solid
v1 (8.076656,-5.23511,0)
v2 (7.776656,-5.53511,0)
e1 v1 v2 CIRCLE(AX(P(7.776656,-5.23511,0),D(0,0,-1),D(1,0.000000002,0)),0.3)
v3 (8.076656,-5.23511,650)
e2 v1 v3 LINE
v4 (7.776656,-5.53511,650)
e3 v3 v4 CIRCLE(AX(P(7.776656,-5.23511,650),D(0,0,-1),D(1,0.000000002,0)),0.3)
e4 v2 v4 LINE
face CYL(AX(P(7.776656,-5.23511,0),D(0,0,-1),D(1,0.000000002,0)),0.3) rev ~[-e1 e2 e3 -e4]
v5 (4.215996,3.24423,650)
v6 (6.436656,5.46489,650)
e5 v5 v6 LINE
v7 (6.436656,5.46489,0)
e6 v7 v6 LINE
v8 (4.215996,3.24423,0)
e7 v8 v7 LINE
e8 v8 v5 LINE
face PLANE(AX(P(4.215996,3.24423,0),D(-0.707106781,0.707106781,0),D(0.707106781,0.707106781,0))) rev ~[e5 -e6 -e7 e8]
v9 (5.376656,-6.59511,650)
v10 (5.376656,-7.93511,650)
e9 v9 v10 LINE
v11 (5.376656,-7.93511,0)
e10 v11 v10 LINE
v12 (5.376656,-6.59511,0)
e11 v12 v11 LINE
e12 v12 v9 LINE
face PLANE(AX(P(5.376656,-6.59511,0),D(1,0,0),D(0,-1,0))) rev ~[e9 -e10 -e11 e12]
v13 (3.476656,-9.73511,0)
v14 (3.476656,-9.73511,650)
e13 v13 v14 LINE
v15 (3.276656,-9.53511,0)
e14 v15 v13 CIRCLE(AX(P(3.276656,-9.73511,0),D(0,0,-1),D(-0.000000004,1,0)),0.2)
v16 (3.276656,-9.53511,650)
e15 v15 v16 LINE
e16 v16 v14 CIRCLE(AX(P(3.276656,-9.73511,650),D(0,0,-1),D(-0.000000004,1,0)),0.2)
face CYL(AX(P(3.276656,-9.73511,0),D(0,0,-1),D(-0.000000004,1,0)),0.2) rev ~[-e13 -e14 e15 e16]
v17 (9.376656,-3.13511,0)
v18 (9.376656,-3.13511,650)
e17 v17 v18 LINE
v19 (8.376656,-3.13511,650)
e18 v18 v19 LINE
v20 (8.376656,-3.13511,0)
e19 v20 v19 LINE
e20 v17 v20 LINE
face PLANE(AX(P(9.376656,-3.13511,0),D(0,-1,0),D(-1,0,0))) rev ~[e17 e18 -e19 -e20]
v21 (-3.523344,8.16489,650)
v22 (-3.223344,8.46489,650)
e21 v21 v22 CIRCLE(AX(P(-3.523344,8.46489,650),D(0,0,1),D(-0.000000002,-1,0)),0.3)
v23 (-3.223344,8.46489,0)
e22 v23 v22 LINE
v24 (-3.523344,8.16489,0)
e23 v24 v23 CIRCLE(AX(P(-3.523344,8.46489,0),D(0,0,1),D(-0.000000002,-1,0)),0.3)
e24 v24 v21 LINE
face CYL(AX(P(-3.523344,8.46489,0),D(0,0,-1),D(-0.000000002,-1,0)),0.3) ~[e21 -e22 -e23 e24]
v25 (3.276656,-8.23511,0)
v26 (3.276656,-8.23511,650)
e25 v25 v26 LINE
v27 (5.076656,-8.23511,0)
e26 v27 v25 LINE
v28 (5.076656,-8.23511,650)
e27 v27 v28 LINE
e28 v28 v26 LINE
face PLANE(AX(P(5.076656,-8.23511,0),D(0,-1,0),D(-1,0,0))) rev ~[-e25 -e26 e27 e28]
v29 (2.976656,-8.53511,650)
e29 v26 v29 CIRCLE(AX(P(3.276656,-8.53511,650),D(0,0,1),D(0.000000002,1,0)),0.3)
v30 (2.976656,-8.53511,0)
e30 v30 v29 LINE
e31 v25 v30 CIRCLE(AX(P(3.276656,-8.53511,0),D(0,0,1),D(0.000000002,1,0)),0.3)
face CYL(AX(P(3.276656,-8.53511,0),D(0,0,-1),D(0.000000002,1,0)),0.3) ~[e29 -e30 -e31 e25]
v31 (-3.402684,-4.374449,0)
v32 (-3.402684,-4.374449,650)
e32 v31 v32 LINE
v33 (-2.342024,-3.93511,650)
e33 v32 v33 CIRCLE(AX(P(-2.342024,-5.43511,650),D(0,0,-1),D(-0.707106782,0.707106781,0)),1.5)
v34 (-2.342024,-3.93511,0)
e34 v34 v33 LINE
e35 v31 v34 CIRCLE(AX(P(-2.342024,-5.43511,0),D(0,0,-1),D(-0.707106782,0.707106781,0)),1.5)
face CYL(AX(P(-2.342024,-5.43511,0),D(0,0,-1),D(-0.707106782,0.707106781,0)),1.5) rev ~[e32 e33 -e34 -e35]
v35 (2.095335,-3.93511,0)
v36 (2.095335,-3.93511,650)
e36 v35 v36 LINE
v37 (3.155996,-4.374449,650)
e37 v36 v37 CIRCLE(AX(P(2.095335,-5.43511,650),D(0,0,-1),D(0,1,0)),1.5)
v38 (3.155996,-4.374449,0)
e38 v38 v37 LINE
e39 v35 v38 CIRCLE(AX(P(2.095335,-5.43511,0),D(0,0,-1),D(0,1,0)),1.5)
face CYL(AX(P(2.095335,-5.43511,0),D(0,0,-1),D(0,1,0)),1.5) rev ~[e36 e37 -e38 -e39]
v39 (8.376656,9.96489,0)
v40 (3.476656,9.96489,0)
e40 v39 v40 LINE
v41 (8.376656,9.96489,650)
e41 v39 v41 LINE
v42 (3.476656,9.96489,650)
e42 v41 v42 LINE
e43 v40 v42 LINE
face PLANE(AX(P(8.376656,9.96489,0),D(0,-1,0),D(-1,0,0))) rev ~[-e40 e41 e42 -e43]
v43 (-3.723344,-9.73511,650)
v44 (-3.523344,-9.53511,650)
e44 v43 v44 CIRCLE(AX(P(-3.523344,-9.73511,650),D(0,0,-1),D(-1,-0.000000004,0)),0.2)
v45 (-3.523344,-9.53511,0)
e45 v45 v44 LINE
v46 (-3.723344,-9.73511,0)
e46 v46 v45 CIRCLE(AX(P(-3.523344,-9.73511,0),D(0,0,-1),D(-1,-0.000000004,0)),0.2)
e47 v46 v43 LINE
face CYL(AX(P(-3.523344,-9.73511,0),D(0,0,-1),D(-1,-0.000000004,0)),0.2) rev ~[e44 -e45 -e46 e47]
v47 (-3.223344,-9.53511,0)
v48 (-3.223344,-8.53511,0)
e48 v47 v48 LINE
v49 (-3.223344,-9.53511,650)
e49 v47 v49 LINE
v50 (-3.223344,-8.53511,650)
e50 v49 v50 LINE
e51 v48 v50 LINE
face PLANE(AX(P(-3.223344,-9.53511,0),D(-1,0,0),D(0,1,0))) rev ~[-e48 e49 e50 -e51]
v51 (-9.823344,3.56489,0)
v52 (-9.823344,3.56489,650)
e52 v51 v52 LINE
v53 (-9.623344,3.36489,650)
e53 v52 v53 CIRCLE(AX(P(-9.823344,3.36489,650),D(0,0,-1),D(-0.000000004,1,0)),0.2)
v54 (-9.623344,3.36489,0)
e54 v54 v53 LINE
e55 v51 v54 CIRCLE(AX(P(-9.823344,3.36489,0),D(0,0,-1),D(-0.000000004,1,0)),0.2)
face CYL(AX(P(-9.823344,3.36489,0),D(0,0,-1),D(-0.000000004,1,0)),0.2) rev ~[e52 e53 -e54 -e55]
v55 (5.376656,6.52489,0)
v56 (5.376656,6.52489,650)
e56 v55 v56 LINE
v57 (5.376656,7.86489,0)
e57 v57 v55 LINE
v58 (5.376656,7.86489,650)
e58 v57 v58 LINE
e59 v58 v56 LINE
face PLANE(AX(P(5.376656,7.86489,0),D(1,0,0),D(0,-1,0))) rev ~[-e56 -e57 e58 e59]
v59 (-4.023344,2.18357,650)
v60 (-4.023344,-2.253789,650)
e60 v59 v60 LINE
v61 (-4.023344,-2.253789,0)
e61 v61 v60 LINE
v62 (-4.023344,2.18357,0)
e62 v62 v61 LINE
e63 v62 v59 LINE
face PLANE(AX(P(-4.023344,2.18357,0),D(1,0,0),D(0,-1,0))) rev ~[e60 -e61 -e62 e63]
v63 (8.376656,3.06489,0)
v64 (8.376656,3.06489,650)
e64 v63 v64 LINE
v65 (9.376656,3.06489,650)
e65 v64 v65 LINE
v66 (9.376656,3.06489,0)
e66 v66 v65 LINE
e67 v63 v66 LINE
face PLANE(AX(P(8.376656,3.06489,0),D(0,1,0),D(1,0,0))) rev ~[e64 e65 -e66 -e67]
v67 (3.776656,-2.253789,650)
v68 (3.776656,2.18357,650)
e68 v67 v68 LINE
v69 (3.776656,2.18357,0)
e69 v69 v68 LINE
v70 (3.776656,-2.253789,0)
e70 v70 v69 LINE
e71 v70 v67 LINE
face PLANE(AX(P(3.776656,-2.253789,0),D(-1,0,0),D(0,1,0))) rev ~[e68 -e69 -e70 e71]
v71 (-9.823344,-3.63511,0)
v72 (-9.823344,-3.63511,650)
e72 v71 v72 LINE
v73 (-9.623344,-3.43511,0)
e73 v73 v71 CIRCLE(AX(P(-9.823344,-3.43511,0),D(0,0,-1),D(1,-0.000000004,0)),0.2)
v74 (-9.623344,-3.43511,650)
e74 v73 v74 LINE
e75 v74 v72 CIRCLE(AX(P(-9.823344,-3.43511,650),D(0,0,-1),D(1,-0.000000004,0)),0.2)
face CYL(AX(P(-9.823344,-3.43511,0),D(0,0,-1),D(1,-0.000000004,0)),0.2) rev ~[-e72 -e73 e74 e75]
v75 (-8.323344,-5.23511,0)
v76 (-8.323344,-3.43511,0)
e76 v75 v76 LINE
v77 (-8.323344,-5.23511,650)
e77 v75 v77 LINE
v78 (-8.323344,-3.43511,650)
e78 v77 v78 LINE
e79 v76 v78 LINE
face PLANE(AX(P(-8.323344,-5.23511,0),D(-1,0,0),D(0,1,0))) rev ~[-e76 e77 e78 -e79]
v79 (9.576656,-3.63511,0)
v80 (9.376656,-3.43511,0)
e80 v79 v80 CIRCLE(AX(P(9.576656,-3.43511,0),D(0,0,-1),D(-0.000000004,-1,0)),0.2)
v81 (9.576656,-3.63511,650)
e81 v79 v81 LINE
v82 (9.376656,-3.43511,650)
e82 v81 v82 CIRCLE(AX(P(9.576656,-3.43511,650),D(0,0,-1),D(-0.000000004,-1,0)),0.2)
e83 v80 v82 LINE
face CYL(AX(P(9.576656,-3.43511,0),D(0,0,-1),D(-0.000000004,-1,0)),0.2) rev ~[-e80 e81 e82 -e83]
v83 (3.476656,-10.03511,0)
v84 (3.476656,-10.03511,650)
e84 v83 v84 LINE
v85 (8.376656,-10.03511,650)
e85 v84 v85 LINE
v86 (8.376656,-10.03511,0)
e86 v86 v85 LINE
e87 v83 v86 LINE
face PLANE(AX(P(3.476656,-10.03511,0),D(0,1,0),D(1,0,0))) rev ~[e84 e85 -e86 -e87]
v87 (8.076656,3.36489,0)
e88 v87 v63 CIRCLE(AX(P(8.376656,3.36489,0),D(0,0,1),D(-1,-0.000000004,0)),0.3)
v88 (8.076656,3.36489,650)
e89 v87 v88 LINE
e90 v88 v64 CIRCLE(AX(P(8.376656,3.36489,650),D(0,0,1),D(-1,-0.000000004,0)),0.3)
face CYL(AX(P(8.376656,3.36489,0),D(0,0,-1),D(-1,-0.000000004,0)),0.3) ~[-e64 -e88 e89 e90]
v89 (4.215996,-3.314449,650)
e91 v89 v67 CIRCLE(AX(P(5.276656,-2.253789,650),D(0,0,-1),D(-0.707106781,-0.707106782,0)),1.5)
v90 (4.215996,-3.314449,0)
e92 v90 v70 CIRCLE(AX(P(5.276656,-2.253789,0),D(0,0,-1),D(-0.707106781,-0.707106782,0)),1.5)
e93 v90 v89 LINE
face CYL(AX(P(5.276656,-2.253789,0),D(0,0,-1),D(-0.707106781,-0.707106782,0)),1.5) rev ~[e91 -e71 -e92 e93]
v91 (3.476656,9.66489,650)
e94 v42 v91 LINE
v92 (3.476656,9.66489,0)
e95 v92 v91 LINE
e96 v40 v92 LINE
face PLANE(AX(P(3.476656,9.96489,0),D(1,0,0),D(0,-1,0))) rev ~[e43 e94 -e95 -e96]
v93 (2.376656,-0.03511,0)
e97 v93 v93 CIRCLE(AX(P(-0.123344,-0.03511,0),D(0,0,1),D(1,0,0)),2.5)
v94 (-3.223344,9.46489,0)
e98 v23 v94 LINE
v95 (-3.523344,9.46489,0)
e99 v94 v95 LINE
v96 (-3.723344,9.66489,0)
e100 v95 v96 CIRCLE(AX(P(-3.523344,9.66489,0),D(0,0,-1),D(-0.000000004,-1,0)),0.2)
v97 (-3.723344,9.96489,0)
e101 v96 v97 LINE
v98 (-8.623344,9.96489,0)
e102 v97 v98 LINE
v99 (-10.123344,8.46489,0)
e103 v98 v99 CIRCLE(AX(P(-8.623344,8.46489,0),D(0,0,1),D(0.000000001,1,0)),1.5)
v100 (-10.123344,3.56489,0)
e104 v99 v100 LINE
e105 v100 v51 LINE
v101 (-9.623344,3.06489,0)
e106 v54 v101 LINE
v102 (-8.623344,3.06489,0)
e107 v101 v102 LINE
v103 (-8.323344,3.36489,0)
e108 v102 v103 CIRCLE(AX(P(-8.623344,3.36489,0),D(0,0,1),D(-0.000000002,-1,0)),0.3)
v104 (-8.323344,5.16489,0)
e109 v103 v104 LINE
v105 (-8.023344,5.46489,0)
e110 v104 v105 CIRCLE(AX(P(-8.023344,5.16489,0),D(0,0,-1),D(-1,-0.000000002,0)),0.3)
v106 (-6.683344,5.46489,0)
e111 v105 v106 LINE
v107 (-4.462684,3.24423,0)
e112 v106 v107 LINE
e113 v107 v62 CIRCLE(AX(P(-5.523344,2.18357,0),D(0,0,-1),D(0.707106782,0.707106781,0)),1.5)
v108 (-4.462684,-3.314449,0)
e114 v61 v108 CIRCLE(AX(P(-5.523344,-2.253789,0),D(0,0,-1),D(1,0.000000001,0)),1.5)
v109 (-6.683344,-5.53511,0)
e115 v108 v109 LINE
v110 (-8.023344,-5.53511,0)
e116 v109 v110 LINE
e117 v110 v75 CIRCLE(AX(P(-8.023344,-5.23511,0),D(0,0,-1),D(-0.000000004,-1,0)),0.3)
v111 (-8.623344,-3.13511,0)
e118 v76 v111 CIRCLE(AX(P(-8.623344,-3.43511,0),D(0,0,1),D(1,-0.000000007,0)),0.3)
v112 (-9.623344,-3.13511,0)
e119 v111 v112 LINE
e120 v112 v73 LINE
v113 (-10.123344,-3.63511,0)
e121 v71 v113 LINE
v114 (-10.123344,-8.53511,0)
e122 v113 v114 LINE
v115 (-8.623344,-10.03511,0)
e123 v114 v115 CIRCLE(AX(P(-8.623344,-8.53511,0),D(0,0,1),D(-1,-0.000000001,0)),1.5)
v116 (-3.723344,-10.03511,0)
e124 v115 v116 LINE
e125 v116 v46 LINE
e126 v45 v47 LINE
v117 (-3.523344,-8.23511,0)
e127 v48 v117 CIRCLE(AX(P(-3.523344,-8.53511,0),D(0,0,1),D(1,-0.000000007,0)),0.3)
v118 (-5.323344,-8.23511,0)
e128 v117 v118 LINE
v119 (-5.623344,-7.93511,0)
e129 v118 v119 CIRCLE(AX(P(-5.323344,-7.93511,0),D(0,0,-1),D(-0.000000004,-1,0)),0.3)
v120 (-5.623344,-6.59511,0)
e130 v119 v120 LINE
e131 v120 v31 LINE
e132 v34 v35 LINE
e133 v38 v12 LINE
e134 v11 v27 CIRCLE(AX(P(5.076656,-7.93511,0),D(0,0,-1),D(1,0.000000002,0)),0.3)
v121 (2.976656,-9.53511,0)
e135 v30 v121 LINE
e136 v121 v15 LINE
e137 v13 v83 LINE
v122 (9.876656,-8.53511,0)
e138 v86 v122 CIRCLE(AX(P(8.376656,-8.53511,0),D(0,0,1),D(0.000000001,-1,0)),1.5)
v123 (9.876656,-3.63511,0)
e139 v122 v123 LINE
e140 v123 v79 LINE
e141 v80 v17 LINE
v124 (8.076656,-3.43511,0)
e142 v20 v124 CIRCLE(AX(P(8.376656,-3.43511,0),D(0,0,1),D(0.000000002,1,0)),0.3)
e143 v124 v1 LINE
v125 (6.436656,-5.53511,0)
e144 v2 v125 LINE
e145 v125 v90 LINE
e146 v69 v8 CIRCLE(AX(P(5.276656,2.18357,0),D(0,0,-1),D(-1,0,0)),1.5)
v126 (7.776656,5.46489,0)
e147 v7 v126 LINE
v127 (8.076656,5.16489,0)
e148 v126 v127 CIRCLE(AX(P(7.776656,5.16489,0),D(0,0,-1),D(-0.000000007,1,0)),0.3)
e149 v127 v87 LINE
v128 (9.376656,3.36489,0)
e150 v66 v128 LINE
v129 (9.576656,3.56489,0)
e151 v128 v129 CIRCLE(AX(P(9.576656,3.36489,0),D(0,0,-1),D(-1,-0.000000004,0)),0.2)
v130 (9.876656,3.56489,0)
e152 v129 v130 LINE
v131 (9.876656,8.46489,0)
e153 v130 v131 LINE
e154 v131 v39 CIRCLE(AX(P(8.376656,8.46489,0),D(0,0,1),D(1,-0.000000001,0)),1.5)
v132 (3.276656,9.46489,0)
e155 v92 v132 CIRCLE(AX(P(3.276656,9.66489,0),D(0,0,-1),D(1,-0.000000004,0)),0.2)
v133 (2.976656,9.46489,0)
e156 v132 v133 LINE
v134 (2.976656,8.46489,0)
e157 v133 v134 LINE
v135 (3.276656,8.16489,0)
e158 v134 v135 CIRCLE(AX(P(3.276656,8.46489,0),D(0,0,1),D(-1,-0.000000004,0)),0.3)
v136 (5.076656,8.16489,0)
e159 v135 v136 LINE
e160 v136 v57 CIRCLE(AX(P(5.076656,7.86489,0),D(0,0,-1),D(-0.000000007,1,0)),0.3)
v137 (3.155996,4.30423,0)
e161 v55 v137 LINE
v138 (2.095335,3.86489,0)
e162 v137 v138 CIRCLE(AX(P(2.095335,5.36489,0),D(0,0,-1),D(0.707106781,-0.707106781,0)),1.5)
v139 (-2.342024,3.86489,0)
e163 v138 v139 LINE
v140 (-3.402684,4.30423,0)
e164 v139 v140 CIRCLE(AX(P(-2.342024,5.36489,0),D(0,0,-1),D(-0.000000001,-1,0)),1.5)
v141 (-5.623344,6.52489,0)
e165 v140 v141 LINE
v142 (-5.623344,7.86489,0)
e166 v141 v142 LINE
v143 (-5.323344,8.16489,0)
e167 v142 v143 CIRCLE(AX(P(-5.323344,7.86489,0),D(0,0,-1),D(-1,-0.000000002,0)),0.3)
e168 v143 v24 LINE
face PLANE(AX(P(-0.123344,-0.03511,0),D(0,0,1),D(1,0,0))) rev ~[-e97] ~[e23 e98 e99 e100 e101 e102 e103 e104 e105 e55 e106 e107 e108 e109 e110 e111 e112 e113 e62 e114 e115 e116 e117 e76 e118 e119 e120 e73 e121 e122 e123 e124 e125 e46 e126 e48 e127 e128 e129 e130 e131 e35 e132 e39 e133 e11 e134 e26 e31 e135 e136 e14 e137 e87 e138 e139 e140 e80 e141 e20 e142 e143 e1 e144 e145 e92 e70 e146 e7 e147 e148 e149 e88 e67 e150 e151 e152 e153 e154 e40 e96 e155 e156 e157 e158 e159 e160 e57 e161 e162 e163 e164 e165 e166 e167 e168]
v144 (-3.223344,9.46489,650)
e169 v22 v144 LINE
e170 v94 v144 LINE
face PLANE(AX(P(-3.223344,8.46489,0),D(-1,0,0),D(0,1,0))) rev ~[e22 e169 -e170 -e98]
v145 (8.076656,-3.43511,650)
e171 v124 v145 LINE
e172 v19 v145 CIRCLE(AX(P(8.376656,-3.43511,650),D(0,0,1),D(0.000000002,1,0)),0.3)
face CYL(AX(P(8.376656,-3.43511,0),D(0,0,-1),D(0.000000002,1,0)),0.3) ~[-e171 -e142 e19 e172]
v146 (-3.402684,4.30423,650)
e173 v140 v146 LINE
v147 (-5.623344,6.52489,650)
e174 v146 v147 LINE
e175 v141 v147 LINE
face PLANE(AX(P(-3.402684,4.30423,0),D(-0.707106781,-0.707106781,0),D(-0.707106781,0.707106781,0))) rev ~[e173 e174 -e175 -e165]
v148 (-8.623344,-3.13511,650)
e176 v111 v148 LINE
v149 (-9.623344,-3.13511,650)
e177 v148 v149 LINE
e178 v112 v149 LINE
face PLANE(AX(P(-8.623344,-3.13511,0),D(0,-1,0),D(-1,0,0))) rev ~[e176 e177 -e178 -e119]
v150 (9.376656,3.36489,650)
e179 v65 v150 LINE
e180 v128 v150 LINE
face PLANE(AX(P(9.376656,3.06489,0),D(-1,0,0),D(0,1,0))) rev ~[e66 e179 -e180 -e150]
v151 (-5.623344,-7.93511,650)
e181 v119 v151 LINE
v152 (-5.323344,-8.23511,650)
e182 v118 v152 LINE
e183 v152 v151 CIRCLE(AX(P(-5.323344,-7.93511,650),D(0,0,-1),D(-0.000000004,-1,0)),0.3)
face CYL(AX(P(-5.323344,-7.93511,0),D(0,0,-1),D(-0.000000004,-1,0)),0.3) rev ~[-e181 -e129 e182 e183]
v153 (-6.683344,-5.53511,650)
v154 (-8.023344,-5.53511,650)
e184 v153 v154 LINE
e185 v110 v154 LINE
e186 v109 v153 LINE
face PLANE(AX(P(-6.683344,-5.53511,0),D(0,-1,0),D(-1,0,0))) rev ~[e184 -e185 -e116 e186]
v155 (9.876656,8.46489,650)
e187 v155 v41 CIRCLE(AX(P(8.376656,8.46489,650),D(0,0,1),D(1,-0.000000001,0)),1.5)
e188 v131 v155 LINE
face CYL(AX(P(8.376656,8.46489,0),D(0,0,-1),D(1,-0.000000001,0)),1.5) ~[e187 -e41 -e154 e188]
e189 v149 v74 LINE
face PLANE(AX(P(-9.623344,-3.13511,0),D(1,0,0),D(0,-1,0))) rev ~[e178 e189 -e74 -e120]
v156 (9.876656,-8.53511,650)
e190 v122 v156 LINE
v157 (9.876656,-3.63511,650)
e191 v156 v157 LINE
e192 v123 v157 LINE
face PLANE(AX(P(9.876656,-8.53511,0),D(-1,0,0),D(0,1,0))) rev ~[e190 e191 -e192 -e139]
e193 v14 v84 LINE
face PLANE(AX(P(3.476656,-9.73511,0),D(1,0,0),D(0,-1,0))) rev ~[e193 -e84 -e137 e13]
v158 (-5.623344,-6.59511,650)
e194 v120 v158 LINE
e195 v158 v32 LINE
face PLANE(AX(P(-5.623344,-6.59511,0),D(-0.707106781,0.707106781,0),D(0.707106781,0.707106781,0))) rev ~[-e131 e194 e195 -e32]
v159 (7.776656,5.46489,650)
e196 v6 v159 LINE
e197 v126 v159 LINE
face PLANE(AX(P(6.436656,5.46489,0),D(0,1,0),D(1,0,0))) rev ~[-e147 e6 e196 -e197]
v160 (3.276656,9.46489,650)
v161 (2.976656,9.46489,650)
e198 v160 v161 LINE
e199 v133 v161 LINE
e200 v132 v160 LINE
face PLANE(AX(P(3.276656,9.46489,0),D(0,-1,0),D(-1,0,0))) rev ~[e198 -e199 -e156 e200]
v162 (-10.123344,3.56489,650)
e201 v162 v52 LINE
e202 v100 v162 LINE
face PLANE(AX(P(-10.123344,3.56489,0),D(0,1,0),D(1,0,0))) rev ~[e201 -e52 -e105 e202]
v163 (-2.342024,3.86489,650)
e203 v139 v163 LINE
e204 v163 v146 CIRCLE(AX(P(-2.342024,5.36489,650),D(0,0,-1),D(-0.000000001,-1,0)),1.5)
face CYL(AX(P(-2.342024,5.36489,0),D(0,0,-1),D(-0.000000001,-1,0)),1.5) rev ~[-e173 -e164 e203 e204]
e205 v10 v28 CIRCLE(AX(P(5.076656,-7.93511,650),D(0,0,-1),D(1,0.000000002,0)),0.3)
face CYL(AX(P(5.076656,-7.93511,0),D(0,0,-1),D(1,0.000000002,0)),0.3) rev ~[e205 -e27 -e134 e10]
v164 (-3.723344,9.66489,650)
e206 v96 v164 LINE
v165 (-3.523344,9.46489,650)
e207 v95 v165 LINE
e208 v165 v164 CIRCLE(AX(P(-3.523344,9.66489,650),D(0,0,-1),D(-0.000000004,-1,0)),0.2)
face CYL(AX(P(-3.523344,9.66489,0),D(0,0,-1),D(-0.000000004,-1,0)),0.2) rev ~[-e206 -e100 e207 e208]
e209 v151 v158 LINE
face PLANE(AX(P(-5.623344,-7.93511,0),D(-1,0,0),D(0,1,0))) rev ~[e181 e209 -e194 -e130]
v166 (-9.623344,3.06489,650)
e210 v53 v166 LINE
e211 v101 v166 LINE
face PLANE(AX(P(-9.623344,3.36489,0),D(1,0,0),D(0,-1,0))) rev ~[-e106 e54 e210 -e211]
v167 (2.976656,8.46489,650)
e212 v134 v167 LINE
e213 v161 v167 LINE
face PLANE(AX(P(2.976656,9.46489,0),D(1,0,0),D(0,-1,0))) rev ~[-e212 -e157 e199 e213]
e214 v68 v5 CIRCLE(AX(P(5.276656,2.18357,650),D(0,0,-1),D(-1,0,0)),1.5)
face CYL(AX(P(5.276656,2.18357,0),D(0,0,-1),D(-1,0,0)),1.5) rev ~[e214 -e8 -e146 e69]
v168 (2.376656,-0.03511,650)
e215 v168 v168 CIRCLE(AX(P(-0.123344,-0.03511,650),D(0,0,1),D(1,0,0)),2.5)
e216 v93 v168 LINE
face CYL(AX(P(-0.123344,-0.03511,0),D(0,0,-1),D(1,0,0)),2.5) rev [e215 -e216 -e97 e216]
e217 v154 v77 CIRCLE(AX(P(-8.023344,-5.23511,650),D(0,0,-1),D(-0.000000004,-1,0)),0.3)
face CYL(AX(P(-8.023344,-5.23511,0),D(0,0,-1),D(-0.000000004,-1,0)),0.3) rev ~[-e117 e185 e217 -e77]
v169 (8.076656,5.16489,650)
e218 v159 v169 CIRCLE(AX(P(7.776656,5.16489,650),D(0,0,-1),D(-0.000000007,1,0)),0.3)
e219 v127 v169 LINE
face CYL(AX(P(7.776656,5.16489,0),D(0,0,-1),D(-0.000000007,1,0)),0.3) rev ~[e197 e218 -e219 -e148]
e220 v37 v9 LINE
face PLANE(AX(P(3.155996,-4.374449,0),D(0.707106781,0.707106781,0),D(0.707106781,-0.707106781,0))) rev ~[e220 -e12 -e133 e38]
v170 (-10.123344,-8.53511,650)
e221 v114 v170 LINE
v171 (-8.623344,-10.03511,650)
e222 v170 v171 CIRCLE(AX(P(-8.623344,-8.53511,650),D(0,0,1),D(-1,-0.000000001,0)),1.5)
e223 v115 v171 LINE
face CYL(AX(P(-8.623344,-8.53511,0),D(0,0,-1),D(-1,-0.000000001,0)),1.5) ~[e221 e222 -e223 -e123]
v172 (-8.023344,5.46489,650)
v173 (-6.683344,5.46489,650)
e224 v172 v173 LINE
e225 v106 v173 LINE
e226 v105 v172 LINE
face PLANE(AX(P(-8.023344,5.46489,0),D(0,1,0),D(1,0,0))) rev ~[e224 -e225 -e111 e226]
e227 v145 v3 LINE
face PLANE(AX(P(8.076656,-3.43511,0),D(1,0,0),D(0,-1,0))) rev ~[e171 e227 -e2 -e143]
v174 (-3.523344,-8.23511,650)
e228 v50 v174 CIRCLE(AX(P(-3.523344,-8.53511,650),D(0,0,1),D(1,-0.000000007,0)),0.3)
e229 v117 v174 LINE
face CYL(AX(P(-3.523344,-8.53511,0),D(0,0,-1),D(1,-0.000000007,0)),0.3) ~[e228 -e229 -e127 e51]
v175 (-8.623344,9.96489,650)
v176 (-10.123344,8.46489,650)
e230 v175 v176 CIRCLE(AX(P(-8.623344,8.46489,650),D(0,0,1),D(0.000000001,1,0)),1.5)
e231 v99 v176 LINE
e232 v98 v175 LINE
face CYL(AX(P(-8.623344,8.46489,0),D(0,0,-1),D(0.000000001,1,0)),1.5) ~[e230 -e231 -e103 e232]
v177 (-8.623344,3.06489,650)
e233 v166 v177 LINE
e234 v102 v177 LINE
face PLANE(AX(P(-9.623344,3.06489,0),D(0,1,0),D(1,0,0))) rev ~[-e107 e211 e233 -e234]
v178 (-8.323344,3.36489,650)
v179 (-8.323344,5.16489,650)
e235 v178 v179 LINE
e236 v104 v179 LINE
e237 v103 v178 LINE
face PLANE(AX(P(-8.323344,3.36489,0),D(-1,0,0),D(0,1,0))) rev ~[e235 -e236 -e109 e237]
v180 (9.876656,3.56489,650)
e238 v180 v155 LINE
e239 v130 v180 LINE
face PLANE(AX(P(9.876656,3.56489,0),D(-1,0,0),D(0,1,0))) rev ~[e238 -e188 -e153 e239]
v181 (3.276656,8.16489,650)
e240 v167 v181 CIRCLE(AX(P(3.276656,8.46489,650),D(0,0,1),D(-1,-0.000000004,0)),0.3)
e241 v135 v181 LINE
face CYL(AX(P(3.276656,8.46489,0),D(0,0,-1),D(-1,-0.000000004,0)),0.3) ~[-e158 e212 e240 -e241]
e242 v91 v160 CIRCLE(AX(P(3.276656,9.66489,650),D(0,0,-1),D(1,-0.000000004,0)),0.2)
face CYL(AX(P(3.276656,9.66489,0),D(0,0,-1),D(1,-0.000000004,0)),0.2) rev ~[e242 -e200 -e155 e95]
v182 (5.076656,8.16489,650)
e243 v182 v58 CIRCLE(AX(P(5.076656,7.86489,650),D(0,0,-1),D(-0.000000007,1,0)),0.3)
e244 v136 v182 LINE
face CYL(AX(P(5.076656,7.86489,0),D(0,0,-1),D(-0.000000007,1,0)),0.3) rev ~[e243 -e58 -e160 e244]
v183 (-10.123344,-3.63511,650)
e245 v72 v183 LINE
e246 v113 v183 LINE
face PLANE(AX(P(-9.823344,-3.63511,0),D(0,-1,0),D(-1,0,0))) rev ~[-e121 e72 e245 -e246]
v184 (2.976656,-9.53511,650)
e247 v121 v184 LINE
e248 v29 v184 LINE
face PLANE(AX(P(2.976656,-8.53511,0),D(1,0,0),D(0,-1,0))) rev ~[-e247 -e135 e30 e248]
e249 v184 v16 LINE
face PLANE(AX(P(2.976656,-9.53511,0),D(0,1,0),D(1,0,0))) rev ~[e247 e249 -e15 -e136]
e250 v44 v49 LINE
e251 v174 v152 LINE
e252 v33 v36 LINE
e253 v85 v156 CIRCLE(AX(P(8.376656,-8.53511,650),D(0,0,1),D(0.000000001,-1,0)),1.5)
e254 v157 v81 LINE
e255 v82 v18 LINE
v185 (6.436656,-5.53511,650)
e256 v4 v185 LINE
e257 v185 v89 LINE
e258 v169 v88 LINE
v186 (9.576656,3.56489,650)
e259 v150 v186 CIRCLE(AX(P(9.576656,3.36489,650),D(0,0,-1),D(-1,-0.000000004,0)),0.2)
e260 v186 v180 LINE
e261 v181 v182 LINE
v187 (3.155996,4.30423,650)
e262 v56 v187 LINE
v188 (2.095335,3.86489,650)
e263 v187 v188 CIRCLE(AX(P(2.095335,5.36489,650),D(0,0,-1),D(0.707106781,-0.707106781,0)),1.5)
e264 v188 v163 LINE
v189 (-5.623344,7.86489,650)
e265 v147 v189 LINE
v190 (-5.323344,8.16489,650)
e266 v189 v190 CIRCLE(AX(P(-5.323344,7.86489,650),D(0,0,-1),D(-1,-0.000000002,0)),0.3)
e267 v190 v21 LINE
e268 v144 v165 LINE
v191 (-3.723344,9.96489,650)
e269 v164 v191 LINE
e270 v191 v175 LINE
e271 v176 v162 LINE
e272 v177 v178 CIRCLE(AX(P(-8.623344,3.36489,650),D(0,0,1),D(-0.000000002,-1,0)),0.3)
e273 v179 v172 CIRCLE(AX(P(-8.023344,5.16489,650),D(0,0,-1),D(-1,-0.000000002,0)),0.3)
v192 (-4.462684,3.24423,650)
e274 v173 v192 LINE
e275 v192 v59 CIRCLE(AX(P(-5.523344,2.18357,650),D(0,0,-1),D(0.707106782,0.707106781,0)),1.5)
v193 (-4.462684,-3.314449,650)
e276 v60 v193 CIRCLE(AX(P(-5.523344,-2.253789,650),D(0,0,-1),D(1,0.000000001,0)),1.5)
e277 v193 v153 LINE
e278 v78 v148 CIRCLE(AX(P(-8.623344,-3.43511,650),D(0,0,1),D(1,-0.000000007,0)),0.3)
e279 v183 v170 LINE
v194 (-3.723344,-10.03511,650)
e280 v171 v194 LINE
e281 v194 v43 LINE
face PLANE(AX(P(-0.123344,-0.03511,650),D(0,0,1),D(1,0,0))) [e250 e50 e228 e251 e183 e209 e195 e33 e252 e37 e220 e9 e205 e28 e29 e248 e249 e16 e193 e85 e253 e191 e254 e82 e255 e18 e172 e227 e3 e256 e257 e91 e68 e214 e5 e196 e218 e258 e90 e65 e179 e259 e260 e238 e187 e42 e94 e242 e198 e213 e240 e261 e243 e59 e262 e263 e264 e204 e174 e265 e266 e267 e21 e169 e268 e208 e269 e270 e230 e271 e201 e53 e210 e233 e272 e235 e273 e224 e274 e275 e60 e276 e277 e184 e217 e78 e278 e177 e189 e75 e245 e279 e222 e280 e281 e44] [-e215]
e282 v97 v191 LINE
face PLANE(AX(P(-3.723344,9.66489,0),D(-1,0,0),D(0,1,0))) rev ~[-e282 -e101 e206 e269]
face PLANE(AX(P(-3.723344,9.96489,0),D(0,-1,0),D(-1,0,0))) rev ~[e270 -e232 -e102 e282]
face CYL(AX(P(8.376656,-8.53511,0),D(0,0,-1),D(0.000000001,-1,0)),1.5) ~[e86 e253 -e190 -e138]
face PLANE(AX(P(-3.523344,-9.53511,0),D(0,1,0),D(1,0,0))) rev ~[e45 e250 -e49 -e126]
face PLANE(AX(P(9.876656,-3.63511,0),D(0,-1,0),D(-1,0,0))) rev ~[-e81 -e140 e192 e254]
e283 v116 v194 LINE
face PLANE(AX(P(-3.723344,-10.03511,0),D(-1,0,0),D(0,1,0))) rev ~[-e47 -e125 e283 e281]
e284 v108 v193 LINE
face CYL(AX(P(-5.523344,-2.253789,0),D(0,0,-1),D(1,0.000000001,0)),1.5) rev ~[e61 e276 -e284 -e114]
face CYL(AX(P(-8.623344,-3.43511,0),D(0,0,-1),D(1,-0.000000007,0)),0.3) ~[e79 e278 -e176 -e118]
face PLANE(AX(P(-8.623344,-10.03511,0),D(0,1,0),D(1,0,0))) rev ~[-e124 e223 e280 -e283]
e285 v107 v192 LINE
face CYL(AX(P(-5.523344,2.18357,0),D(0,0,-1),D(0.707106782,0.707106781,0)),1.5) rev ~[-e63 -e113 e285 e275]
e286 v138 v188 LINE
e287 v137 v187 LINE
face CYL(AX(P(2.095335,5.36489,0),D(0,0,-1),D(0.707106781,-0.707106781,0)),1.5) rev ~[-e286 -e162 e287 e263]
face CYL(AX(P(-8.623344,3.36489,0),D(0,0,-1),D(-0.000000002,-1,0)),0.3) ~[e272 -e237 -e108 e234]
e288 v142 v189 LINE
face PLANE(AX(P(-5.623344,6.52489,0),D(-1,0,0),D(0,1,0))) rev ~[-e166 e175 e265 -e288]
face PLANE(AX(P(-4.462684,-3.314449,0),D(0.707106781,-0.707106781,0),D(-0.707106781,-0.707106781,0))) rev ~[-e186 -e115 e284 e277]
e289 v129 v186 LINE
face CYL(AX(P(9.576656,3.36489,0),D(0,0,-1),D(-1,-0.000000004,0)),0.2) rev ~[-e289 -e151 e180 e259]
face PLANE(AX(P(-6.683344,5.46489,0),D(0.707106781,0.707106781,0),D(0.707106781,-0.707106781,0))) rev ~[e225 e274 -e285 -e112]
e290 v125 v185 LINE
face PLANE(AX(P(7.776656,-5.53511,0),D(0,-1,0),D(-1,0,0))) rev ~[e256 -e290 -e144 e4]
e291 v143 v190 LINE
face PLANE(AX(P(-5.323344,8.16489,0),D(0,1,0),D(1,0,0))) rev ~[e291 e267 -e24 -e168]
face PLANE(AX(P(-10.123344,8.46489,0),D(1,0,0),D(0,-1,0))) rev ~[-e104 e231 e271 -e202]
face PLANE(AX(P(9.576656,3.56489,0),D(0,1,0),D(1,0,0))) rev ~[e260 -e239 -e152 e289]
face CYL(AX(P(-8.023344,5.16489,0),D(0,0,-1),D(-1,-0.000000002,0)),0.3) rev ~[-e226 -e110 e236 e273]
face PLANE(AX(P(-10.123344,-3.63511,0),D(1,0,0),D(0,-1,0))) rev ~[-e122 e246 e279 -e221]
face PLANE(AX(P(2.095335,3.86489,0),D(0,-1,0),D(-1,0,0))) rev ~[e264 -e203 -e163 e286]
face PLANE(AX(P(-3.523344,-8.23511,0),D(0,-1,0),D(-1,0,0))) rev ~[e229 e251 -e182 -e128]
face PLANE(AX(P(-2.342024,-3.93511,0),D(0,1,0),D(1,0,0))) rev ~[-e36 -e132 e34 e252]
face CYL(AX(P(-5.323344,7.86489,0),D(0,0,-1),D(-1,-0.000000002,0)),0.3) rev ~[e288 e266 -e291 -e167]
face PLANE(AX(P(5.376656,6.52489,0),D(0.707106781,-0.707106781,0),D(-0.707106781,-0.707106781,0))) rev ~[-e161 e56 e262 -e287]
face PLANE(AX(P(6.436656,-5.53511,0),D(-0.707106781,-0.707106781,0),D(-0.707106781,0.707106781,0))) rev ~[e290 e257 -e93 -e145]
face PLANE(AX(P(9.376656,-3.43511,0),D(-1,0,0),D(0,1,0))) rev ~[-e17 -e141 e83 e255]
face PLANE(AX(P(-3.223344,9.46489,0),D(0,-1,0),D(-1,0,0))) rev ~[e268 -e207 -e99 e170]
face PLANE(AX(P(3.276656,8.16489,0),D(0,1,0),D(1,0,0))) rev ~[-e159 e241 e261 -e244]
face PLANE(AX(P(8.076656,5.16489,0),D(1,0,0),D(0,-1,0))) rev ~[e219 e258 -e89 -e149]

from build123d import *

# Parameters (mm, degrees)
SKETCH_1_R      = 2.5
EXTRUDE_1_DEPTH = 650


with BuildPart() as part:
    # 草图1 → 凸台-拉伸1 (new body)
    with BuildSketch(Plane.XY):
        with BuildLine():
            Line((4.215995631, 3.244230202), (6.436655803, 5.464890373))
            Line((6.436655803, 5.464890373), (7.776655803, 5.464890373))
            ThreePointArc((7.776655803, 5.464890373), (7.988787838, 5.377022408), (8.076655803, 5.164890373))
            Line((8.076655803, 5.164890373), (8.076655803, 3.364890373))
            ThreePointArc((8.076655803, 3.364890373), (8.164523769, 3.152758339), (8.376655803, 3.064890373))
            Line((8.376655803, 3.064890373), (9.376655803, 3.064890373))
            Line((9.376655803, 3.064890373), (9.376655803, 3.364890373))
            ThreePointArc((9.376655803, 3.364890373), (9.435234447, 3.50631173), (9.576655803, 3.564890373))
            Line((9.576655803, 3.564890373), (9.876655803, 3.564890373))
            Line((9.876655803, 3.564890373), (9.876655803, 8.464890373))
            ThreePointArc((9.876655803, 8.464890373), (9.437315975, 9.525550545), (8.376655803, 9.964890373))
            Line((8.376655803, 9.964890373), (3.476655803, 9.964890373))
            Line((3.476655803, 9.964890373), (3.476655803, 9.664890373))
            ThreePointArc((3.476655803, 9.664890373), (3.418077159, 9.523469017), (3.276655803, 9.464890373))
            Line((3.276655803, 9.464890373), (2.976655803, 9.464890373))
            Line((2.976655803, 9.464890373), (2.976655803, 8.464890373))
            ThreePointArc((2.976655803, 8.464890373), (3.064523769, 8.252758339), (3.276655803, 8.164890373))
            Line((3.276655803, 8.164890373), (5.076655803, 8.164890373))
            ThreePointArc((5.076655803, 8.164890373), (5.288787838, 8.077022408), (5.376655803, 7.864890373))
            Line((5.376655803, 7.864890373), (5.376655803, 6.524890373))
            Line((5.376655803, 6.524890373), (3.155995631, 4.304230202))
            ThreePointArc((3.155995631, 4.304230202), (2.669360608, 3.979071075), (2.09533546, 3.864890373))
            Line((2.09533546, 3.864890373), (-2.342023853, 3.864890373))
            ThreePointArc((-2.342023853, 3.864890373), (-2.916049002, 3.979071075), (-3.402684025, 4.304230202))
            Line((-3.402684025, 4.304230202), (-5.623344197, 6.524890373))
            Line((-5.623344197, 6.524890373), (-5.623344197, 7.864890373))
            ThreePointArc((-5.623344197, 7.864890373), (-5.535476231, 8.077022408), (-5.323344197, 8.164890373))
            Line((-5.323344197, 8.164890373), (-3.523344197, 8.164890373))
            ThreePointArc((-3.523344197, 8.164890373), (-3.311212162, 8.252758339), (-3.223344197, 8.464890373))
            Line((-3.223344197, 8.464890373), (-3.223344197, 9.464890373))
            Line((-3.223344197, 9.464890373), (-3.523344197, 9.464890373))
            ThreePointArc((-3.523344197, 9.464890373), (-3.664765553, 9.523469017), (-3.723344197, 9.664890373))
            Line((-3.723344197, 9.664890373), (-3.723344197, 9.964890373))
            Line((-3.723344197, 9.964890373), (-8.623344197, 9.964890373))
            ThreePointArc((-8.623344197, 9.964890373), (-9.684004369, 9.525550545), (-10.123344197, 8.464890373))
            Line((-10.123344197, 8.464890373), (-10.123344197, 3.564890373))
            Line((-10.123344197, 3.564890373), (-9.823344197, 3.564890373))
            ThreePointArc((-9.823344197, 3.564890373), (-9.681922841, 3.50631173), (-9.623344197, 3.364890373))
            Line((-9.623344197, 3.364890373), (-9.623344197, 3.064890373))
            Line((-9.623344197, 3.064890373), (-8.623344197, 3.064890373))
            ThreePointArc((-8.623344197, 3.064890373), (-8.411212162, 3.152758339), (-8.323344197, 3.364890373))
            Line((-8.323344197, 3.364890373), (-8.323344197, 5.164890373))
            ThreePointArc((-8.323344197, 5.164890373), (-8.235476231, 5.377022408), (-8.023344197, 5.464890373))
            Line((-8.023344197, 5.464890373), (-6.683344197, 5.464890373))
            Line((-6.683344197, 5.464890373), (-4.462684025, 3.244230202))
            ThreePointArc((-4.462684025, 3.244230202), (-4.137524898, 2.757595178), (-4.023344197, 2.18357003))
            Line((-4.023344197, 2.18357003), (-4.023344197, -2.253789283))
            ThreePointArc((-4.023344197, -2.253789283), (-4.137524898, -2.827814432), (-4.462684025, -3.314449455))
            Line((-4.462684025, -3.314449455), (-6.683344197, -5.535109627))
            Line((-6.683344197, -5.535109627), (-8.023344197, -5.535109627))
            ThreePointArc((-8.023344197, -5.535109627), (-8.235476231, -5.447241661), (-8.323344197, -5.235109627))
            Line((-8.323344197, -5.235109627), (-8.323344197, -3.435109627))
            ThreePointArc((-8.323344197, -3.435109627), (-8.411212162, -3.222977592), (-8.623344197, -3.135109627))
            Line((-8.623344197, -3.135109627), (-9.623344197, -3.135109627))
            Line((-9.623344197, -3.135109627), (-9.623344197, -3.435109627))
            ThreePointArc((-9.623344197, -3.435109627), (-9.681922841, -3.576530983), (-9.823344197, -3.635109627))
            Line((-9.823344197, -3.635109627), (-10.123344197, -3.635109627))
            Line((-10.123344197, -3.635109627), (-10.123344197, -8.535109627))
            ThreePointArc((-10.123344197, -8.535109627), (-9.684004369, -9.595769798), (-8.623344197, -10.035109627))
            Line((-8.623344197, -10.035109627), (-3.723344197, -10.035109627))
            Line((-3.723344197, -10.035109627), (-3.723344197, -9.735109627))
            ThreePointArc((-3.723344197, -9.735109627), (-3.664765553, -9.59368827), (-3.523344197, -9.535109627))
            Line((-3.523344197, -9.535109627), (-3.223344197, -9.535109627))
            Line((-3.223344197, -9.535109627), (-3.223344197, -8.535109627))
            ThreePointArc((-3.223344197, -8.535109627), (-3.311212162, -8.322977592), (-3.523344197, -8.235109627))
            Line((-3.523344197, -8.235109627), (-5.323344197, -8.235109627))
            ThreePointArc((-5.323344197, -8.235109627), (-5.535476231, -8.147241661), (-5.623344197, -7.935109627))
            Line((-5.623344197, -7.935109627), (-5.623344197, -6.595109627))
            Line((-5.623344197, -6.595109627), (-3.402684025, -4.374449455))
            ThreePointArc((-3.402684025, -4.374449455), (-2.916049002, -4.049290328), (-2.342023853, -3.935109627))
            Line((-2.342023853, -3.935109627), (2.09533546, -3.935109627))
            ThreePointArc((2.09533546, -3.935109627), (2.669360608, -4.049290328), (3.155995631, -4.374449455))
            Line((3.155995631, -4.374449455), (5.376655803, -6.595109627))
            Line((5.376655803, -6.595109627), (5.376655803, -7.935109627))
            ThreePointArc((5.376655803, -7.935109627), (5.288787838, -8.147241661), (5.076655803, -8.235109627))
            Line((5.076655803, -8.235109627), (3.276655803, -8.235109627))
            ThreePointArc((3.276655803, -8.235109627), (3.064523769, -8.322977592), (2.976655803, -8.535109627))
            Line((2.976655803, -8.535109627), (2.976655803, -9.535109627))
            Line((2.976655803, -9.535109627), (3.276655803, -9.535109627))
            ThreePointArc((3.276655803, -9.535109627), (3.418077159, -9.59368827), (3.476655803, -9.735109627))
            Line((3.476655803, -9.735109627), (3.476655803, -10.035109627))
            Line((3.476655803, -10.035109627), (8.376655803, -10.035109627))
            ThreePointArc((8.376655803, -10.035109627), (9.437315975, -9.595769798), (9.876655803, -8.535109627))
            Line((9.876655803, -8.535109627), (9.876655803, -3.635109627))
            Line((9.876655803, -3.635109627), (9.576655803, -3.635109627))
            ThreePointArc((9.576655803, -3.635109627), (9.435234447, -3.576530983), (9.376655803, -3.435109627))
            Line((9.376655803, -3.435109627), (9.376655803, -3.135109627))
            Line((9.376655803, -3.135109627), (8.376655803, -3.135109627))
            ThreePointArc((8.376655803, -3.135109627), (8.164523769, -3.222977592), (8.076655803, -3.435109627))
            Line((8.076655803, -3.435109627), (8.076655803, -5.235109627))
            ThreePointArc((8.076655803, -5.235109627), (7.988787838, -5.447241661), (7.776655803, -5.535109627))
            Line((7.776655803, -5.535109627), (6.436655803, -5.535109627))
            Line((6.436655803, -5.535109627), (4.215995631, -3.314449455))
            ThreePointArc((4.215995631, -3.314449455), (3.890836504, -2.827814432), (3.776655803, -2.253789283))
            Line((3.776655803, -2.253789283), (3.776655803, 2.18357003))
            ThreePointArc((3.776655803, 2.18357003), (3.890836504, 2.757595178), (4.215995631, 3.244230202))
        make_face()
        with Locations((-0.123344197, -0.035109627)):
            Circle(SKETCH_1_R, mode=Mode.SUBTRACT)
    extrude(amount=EXTRUDE_1_DEPTH)


solid = part.part
